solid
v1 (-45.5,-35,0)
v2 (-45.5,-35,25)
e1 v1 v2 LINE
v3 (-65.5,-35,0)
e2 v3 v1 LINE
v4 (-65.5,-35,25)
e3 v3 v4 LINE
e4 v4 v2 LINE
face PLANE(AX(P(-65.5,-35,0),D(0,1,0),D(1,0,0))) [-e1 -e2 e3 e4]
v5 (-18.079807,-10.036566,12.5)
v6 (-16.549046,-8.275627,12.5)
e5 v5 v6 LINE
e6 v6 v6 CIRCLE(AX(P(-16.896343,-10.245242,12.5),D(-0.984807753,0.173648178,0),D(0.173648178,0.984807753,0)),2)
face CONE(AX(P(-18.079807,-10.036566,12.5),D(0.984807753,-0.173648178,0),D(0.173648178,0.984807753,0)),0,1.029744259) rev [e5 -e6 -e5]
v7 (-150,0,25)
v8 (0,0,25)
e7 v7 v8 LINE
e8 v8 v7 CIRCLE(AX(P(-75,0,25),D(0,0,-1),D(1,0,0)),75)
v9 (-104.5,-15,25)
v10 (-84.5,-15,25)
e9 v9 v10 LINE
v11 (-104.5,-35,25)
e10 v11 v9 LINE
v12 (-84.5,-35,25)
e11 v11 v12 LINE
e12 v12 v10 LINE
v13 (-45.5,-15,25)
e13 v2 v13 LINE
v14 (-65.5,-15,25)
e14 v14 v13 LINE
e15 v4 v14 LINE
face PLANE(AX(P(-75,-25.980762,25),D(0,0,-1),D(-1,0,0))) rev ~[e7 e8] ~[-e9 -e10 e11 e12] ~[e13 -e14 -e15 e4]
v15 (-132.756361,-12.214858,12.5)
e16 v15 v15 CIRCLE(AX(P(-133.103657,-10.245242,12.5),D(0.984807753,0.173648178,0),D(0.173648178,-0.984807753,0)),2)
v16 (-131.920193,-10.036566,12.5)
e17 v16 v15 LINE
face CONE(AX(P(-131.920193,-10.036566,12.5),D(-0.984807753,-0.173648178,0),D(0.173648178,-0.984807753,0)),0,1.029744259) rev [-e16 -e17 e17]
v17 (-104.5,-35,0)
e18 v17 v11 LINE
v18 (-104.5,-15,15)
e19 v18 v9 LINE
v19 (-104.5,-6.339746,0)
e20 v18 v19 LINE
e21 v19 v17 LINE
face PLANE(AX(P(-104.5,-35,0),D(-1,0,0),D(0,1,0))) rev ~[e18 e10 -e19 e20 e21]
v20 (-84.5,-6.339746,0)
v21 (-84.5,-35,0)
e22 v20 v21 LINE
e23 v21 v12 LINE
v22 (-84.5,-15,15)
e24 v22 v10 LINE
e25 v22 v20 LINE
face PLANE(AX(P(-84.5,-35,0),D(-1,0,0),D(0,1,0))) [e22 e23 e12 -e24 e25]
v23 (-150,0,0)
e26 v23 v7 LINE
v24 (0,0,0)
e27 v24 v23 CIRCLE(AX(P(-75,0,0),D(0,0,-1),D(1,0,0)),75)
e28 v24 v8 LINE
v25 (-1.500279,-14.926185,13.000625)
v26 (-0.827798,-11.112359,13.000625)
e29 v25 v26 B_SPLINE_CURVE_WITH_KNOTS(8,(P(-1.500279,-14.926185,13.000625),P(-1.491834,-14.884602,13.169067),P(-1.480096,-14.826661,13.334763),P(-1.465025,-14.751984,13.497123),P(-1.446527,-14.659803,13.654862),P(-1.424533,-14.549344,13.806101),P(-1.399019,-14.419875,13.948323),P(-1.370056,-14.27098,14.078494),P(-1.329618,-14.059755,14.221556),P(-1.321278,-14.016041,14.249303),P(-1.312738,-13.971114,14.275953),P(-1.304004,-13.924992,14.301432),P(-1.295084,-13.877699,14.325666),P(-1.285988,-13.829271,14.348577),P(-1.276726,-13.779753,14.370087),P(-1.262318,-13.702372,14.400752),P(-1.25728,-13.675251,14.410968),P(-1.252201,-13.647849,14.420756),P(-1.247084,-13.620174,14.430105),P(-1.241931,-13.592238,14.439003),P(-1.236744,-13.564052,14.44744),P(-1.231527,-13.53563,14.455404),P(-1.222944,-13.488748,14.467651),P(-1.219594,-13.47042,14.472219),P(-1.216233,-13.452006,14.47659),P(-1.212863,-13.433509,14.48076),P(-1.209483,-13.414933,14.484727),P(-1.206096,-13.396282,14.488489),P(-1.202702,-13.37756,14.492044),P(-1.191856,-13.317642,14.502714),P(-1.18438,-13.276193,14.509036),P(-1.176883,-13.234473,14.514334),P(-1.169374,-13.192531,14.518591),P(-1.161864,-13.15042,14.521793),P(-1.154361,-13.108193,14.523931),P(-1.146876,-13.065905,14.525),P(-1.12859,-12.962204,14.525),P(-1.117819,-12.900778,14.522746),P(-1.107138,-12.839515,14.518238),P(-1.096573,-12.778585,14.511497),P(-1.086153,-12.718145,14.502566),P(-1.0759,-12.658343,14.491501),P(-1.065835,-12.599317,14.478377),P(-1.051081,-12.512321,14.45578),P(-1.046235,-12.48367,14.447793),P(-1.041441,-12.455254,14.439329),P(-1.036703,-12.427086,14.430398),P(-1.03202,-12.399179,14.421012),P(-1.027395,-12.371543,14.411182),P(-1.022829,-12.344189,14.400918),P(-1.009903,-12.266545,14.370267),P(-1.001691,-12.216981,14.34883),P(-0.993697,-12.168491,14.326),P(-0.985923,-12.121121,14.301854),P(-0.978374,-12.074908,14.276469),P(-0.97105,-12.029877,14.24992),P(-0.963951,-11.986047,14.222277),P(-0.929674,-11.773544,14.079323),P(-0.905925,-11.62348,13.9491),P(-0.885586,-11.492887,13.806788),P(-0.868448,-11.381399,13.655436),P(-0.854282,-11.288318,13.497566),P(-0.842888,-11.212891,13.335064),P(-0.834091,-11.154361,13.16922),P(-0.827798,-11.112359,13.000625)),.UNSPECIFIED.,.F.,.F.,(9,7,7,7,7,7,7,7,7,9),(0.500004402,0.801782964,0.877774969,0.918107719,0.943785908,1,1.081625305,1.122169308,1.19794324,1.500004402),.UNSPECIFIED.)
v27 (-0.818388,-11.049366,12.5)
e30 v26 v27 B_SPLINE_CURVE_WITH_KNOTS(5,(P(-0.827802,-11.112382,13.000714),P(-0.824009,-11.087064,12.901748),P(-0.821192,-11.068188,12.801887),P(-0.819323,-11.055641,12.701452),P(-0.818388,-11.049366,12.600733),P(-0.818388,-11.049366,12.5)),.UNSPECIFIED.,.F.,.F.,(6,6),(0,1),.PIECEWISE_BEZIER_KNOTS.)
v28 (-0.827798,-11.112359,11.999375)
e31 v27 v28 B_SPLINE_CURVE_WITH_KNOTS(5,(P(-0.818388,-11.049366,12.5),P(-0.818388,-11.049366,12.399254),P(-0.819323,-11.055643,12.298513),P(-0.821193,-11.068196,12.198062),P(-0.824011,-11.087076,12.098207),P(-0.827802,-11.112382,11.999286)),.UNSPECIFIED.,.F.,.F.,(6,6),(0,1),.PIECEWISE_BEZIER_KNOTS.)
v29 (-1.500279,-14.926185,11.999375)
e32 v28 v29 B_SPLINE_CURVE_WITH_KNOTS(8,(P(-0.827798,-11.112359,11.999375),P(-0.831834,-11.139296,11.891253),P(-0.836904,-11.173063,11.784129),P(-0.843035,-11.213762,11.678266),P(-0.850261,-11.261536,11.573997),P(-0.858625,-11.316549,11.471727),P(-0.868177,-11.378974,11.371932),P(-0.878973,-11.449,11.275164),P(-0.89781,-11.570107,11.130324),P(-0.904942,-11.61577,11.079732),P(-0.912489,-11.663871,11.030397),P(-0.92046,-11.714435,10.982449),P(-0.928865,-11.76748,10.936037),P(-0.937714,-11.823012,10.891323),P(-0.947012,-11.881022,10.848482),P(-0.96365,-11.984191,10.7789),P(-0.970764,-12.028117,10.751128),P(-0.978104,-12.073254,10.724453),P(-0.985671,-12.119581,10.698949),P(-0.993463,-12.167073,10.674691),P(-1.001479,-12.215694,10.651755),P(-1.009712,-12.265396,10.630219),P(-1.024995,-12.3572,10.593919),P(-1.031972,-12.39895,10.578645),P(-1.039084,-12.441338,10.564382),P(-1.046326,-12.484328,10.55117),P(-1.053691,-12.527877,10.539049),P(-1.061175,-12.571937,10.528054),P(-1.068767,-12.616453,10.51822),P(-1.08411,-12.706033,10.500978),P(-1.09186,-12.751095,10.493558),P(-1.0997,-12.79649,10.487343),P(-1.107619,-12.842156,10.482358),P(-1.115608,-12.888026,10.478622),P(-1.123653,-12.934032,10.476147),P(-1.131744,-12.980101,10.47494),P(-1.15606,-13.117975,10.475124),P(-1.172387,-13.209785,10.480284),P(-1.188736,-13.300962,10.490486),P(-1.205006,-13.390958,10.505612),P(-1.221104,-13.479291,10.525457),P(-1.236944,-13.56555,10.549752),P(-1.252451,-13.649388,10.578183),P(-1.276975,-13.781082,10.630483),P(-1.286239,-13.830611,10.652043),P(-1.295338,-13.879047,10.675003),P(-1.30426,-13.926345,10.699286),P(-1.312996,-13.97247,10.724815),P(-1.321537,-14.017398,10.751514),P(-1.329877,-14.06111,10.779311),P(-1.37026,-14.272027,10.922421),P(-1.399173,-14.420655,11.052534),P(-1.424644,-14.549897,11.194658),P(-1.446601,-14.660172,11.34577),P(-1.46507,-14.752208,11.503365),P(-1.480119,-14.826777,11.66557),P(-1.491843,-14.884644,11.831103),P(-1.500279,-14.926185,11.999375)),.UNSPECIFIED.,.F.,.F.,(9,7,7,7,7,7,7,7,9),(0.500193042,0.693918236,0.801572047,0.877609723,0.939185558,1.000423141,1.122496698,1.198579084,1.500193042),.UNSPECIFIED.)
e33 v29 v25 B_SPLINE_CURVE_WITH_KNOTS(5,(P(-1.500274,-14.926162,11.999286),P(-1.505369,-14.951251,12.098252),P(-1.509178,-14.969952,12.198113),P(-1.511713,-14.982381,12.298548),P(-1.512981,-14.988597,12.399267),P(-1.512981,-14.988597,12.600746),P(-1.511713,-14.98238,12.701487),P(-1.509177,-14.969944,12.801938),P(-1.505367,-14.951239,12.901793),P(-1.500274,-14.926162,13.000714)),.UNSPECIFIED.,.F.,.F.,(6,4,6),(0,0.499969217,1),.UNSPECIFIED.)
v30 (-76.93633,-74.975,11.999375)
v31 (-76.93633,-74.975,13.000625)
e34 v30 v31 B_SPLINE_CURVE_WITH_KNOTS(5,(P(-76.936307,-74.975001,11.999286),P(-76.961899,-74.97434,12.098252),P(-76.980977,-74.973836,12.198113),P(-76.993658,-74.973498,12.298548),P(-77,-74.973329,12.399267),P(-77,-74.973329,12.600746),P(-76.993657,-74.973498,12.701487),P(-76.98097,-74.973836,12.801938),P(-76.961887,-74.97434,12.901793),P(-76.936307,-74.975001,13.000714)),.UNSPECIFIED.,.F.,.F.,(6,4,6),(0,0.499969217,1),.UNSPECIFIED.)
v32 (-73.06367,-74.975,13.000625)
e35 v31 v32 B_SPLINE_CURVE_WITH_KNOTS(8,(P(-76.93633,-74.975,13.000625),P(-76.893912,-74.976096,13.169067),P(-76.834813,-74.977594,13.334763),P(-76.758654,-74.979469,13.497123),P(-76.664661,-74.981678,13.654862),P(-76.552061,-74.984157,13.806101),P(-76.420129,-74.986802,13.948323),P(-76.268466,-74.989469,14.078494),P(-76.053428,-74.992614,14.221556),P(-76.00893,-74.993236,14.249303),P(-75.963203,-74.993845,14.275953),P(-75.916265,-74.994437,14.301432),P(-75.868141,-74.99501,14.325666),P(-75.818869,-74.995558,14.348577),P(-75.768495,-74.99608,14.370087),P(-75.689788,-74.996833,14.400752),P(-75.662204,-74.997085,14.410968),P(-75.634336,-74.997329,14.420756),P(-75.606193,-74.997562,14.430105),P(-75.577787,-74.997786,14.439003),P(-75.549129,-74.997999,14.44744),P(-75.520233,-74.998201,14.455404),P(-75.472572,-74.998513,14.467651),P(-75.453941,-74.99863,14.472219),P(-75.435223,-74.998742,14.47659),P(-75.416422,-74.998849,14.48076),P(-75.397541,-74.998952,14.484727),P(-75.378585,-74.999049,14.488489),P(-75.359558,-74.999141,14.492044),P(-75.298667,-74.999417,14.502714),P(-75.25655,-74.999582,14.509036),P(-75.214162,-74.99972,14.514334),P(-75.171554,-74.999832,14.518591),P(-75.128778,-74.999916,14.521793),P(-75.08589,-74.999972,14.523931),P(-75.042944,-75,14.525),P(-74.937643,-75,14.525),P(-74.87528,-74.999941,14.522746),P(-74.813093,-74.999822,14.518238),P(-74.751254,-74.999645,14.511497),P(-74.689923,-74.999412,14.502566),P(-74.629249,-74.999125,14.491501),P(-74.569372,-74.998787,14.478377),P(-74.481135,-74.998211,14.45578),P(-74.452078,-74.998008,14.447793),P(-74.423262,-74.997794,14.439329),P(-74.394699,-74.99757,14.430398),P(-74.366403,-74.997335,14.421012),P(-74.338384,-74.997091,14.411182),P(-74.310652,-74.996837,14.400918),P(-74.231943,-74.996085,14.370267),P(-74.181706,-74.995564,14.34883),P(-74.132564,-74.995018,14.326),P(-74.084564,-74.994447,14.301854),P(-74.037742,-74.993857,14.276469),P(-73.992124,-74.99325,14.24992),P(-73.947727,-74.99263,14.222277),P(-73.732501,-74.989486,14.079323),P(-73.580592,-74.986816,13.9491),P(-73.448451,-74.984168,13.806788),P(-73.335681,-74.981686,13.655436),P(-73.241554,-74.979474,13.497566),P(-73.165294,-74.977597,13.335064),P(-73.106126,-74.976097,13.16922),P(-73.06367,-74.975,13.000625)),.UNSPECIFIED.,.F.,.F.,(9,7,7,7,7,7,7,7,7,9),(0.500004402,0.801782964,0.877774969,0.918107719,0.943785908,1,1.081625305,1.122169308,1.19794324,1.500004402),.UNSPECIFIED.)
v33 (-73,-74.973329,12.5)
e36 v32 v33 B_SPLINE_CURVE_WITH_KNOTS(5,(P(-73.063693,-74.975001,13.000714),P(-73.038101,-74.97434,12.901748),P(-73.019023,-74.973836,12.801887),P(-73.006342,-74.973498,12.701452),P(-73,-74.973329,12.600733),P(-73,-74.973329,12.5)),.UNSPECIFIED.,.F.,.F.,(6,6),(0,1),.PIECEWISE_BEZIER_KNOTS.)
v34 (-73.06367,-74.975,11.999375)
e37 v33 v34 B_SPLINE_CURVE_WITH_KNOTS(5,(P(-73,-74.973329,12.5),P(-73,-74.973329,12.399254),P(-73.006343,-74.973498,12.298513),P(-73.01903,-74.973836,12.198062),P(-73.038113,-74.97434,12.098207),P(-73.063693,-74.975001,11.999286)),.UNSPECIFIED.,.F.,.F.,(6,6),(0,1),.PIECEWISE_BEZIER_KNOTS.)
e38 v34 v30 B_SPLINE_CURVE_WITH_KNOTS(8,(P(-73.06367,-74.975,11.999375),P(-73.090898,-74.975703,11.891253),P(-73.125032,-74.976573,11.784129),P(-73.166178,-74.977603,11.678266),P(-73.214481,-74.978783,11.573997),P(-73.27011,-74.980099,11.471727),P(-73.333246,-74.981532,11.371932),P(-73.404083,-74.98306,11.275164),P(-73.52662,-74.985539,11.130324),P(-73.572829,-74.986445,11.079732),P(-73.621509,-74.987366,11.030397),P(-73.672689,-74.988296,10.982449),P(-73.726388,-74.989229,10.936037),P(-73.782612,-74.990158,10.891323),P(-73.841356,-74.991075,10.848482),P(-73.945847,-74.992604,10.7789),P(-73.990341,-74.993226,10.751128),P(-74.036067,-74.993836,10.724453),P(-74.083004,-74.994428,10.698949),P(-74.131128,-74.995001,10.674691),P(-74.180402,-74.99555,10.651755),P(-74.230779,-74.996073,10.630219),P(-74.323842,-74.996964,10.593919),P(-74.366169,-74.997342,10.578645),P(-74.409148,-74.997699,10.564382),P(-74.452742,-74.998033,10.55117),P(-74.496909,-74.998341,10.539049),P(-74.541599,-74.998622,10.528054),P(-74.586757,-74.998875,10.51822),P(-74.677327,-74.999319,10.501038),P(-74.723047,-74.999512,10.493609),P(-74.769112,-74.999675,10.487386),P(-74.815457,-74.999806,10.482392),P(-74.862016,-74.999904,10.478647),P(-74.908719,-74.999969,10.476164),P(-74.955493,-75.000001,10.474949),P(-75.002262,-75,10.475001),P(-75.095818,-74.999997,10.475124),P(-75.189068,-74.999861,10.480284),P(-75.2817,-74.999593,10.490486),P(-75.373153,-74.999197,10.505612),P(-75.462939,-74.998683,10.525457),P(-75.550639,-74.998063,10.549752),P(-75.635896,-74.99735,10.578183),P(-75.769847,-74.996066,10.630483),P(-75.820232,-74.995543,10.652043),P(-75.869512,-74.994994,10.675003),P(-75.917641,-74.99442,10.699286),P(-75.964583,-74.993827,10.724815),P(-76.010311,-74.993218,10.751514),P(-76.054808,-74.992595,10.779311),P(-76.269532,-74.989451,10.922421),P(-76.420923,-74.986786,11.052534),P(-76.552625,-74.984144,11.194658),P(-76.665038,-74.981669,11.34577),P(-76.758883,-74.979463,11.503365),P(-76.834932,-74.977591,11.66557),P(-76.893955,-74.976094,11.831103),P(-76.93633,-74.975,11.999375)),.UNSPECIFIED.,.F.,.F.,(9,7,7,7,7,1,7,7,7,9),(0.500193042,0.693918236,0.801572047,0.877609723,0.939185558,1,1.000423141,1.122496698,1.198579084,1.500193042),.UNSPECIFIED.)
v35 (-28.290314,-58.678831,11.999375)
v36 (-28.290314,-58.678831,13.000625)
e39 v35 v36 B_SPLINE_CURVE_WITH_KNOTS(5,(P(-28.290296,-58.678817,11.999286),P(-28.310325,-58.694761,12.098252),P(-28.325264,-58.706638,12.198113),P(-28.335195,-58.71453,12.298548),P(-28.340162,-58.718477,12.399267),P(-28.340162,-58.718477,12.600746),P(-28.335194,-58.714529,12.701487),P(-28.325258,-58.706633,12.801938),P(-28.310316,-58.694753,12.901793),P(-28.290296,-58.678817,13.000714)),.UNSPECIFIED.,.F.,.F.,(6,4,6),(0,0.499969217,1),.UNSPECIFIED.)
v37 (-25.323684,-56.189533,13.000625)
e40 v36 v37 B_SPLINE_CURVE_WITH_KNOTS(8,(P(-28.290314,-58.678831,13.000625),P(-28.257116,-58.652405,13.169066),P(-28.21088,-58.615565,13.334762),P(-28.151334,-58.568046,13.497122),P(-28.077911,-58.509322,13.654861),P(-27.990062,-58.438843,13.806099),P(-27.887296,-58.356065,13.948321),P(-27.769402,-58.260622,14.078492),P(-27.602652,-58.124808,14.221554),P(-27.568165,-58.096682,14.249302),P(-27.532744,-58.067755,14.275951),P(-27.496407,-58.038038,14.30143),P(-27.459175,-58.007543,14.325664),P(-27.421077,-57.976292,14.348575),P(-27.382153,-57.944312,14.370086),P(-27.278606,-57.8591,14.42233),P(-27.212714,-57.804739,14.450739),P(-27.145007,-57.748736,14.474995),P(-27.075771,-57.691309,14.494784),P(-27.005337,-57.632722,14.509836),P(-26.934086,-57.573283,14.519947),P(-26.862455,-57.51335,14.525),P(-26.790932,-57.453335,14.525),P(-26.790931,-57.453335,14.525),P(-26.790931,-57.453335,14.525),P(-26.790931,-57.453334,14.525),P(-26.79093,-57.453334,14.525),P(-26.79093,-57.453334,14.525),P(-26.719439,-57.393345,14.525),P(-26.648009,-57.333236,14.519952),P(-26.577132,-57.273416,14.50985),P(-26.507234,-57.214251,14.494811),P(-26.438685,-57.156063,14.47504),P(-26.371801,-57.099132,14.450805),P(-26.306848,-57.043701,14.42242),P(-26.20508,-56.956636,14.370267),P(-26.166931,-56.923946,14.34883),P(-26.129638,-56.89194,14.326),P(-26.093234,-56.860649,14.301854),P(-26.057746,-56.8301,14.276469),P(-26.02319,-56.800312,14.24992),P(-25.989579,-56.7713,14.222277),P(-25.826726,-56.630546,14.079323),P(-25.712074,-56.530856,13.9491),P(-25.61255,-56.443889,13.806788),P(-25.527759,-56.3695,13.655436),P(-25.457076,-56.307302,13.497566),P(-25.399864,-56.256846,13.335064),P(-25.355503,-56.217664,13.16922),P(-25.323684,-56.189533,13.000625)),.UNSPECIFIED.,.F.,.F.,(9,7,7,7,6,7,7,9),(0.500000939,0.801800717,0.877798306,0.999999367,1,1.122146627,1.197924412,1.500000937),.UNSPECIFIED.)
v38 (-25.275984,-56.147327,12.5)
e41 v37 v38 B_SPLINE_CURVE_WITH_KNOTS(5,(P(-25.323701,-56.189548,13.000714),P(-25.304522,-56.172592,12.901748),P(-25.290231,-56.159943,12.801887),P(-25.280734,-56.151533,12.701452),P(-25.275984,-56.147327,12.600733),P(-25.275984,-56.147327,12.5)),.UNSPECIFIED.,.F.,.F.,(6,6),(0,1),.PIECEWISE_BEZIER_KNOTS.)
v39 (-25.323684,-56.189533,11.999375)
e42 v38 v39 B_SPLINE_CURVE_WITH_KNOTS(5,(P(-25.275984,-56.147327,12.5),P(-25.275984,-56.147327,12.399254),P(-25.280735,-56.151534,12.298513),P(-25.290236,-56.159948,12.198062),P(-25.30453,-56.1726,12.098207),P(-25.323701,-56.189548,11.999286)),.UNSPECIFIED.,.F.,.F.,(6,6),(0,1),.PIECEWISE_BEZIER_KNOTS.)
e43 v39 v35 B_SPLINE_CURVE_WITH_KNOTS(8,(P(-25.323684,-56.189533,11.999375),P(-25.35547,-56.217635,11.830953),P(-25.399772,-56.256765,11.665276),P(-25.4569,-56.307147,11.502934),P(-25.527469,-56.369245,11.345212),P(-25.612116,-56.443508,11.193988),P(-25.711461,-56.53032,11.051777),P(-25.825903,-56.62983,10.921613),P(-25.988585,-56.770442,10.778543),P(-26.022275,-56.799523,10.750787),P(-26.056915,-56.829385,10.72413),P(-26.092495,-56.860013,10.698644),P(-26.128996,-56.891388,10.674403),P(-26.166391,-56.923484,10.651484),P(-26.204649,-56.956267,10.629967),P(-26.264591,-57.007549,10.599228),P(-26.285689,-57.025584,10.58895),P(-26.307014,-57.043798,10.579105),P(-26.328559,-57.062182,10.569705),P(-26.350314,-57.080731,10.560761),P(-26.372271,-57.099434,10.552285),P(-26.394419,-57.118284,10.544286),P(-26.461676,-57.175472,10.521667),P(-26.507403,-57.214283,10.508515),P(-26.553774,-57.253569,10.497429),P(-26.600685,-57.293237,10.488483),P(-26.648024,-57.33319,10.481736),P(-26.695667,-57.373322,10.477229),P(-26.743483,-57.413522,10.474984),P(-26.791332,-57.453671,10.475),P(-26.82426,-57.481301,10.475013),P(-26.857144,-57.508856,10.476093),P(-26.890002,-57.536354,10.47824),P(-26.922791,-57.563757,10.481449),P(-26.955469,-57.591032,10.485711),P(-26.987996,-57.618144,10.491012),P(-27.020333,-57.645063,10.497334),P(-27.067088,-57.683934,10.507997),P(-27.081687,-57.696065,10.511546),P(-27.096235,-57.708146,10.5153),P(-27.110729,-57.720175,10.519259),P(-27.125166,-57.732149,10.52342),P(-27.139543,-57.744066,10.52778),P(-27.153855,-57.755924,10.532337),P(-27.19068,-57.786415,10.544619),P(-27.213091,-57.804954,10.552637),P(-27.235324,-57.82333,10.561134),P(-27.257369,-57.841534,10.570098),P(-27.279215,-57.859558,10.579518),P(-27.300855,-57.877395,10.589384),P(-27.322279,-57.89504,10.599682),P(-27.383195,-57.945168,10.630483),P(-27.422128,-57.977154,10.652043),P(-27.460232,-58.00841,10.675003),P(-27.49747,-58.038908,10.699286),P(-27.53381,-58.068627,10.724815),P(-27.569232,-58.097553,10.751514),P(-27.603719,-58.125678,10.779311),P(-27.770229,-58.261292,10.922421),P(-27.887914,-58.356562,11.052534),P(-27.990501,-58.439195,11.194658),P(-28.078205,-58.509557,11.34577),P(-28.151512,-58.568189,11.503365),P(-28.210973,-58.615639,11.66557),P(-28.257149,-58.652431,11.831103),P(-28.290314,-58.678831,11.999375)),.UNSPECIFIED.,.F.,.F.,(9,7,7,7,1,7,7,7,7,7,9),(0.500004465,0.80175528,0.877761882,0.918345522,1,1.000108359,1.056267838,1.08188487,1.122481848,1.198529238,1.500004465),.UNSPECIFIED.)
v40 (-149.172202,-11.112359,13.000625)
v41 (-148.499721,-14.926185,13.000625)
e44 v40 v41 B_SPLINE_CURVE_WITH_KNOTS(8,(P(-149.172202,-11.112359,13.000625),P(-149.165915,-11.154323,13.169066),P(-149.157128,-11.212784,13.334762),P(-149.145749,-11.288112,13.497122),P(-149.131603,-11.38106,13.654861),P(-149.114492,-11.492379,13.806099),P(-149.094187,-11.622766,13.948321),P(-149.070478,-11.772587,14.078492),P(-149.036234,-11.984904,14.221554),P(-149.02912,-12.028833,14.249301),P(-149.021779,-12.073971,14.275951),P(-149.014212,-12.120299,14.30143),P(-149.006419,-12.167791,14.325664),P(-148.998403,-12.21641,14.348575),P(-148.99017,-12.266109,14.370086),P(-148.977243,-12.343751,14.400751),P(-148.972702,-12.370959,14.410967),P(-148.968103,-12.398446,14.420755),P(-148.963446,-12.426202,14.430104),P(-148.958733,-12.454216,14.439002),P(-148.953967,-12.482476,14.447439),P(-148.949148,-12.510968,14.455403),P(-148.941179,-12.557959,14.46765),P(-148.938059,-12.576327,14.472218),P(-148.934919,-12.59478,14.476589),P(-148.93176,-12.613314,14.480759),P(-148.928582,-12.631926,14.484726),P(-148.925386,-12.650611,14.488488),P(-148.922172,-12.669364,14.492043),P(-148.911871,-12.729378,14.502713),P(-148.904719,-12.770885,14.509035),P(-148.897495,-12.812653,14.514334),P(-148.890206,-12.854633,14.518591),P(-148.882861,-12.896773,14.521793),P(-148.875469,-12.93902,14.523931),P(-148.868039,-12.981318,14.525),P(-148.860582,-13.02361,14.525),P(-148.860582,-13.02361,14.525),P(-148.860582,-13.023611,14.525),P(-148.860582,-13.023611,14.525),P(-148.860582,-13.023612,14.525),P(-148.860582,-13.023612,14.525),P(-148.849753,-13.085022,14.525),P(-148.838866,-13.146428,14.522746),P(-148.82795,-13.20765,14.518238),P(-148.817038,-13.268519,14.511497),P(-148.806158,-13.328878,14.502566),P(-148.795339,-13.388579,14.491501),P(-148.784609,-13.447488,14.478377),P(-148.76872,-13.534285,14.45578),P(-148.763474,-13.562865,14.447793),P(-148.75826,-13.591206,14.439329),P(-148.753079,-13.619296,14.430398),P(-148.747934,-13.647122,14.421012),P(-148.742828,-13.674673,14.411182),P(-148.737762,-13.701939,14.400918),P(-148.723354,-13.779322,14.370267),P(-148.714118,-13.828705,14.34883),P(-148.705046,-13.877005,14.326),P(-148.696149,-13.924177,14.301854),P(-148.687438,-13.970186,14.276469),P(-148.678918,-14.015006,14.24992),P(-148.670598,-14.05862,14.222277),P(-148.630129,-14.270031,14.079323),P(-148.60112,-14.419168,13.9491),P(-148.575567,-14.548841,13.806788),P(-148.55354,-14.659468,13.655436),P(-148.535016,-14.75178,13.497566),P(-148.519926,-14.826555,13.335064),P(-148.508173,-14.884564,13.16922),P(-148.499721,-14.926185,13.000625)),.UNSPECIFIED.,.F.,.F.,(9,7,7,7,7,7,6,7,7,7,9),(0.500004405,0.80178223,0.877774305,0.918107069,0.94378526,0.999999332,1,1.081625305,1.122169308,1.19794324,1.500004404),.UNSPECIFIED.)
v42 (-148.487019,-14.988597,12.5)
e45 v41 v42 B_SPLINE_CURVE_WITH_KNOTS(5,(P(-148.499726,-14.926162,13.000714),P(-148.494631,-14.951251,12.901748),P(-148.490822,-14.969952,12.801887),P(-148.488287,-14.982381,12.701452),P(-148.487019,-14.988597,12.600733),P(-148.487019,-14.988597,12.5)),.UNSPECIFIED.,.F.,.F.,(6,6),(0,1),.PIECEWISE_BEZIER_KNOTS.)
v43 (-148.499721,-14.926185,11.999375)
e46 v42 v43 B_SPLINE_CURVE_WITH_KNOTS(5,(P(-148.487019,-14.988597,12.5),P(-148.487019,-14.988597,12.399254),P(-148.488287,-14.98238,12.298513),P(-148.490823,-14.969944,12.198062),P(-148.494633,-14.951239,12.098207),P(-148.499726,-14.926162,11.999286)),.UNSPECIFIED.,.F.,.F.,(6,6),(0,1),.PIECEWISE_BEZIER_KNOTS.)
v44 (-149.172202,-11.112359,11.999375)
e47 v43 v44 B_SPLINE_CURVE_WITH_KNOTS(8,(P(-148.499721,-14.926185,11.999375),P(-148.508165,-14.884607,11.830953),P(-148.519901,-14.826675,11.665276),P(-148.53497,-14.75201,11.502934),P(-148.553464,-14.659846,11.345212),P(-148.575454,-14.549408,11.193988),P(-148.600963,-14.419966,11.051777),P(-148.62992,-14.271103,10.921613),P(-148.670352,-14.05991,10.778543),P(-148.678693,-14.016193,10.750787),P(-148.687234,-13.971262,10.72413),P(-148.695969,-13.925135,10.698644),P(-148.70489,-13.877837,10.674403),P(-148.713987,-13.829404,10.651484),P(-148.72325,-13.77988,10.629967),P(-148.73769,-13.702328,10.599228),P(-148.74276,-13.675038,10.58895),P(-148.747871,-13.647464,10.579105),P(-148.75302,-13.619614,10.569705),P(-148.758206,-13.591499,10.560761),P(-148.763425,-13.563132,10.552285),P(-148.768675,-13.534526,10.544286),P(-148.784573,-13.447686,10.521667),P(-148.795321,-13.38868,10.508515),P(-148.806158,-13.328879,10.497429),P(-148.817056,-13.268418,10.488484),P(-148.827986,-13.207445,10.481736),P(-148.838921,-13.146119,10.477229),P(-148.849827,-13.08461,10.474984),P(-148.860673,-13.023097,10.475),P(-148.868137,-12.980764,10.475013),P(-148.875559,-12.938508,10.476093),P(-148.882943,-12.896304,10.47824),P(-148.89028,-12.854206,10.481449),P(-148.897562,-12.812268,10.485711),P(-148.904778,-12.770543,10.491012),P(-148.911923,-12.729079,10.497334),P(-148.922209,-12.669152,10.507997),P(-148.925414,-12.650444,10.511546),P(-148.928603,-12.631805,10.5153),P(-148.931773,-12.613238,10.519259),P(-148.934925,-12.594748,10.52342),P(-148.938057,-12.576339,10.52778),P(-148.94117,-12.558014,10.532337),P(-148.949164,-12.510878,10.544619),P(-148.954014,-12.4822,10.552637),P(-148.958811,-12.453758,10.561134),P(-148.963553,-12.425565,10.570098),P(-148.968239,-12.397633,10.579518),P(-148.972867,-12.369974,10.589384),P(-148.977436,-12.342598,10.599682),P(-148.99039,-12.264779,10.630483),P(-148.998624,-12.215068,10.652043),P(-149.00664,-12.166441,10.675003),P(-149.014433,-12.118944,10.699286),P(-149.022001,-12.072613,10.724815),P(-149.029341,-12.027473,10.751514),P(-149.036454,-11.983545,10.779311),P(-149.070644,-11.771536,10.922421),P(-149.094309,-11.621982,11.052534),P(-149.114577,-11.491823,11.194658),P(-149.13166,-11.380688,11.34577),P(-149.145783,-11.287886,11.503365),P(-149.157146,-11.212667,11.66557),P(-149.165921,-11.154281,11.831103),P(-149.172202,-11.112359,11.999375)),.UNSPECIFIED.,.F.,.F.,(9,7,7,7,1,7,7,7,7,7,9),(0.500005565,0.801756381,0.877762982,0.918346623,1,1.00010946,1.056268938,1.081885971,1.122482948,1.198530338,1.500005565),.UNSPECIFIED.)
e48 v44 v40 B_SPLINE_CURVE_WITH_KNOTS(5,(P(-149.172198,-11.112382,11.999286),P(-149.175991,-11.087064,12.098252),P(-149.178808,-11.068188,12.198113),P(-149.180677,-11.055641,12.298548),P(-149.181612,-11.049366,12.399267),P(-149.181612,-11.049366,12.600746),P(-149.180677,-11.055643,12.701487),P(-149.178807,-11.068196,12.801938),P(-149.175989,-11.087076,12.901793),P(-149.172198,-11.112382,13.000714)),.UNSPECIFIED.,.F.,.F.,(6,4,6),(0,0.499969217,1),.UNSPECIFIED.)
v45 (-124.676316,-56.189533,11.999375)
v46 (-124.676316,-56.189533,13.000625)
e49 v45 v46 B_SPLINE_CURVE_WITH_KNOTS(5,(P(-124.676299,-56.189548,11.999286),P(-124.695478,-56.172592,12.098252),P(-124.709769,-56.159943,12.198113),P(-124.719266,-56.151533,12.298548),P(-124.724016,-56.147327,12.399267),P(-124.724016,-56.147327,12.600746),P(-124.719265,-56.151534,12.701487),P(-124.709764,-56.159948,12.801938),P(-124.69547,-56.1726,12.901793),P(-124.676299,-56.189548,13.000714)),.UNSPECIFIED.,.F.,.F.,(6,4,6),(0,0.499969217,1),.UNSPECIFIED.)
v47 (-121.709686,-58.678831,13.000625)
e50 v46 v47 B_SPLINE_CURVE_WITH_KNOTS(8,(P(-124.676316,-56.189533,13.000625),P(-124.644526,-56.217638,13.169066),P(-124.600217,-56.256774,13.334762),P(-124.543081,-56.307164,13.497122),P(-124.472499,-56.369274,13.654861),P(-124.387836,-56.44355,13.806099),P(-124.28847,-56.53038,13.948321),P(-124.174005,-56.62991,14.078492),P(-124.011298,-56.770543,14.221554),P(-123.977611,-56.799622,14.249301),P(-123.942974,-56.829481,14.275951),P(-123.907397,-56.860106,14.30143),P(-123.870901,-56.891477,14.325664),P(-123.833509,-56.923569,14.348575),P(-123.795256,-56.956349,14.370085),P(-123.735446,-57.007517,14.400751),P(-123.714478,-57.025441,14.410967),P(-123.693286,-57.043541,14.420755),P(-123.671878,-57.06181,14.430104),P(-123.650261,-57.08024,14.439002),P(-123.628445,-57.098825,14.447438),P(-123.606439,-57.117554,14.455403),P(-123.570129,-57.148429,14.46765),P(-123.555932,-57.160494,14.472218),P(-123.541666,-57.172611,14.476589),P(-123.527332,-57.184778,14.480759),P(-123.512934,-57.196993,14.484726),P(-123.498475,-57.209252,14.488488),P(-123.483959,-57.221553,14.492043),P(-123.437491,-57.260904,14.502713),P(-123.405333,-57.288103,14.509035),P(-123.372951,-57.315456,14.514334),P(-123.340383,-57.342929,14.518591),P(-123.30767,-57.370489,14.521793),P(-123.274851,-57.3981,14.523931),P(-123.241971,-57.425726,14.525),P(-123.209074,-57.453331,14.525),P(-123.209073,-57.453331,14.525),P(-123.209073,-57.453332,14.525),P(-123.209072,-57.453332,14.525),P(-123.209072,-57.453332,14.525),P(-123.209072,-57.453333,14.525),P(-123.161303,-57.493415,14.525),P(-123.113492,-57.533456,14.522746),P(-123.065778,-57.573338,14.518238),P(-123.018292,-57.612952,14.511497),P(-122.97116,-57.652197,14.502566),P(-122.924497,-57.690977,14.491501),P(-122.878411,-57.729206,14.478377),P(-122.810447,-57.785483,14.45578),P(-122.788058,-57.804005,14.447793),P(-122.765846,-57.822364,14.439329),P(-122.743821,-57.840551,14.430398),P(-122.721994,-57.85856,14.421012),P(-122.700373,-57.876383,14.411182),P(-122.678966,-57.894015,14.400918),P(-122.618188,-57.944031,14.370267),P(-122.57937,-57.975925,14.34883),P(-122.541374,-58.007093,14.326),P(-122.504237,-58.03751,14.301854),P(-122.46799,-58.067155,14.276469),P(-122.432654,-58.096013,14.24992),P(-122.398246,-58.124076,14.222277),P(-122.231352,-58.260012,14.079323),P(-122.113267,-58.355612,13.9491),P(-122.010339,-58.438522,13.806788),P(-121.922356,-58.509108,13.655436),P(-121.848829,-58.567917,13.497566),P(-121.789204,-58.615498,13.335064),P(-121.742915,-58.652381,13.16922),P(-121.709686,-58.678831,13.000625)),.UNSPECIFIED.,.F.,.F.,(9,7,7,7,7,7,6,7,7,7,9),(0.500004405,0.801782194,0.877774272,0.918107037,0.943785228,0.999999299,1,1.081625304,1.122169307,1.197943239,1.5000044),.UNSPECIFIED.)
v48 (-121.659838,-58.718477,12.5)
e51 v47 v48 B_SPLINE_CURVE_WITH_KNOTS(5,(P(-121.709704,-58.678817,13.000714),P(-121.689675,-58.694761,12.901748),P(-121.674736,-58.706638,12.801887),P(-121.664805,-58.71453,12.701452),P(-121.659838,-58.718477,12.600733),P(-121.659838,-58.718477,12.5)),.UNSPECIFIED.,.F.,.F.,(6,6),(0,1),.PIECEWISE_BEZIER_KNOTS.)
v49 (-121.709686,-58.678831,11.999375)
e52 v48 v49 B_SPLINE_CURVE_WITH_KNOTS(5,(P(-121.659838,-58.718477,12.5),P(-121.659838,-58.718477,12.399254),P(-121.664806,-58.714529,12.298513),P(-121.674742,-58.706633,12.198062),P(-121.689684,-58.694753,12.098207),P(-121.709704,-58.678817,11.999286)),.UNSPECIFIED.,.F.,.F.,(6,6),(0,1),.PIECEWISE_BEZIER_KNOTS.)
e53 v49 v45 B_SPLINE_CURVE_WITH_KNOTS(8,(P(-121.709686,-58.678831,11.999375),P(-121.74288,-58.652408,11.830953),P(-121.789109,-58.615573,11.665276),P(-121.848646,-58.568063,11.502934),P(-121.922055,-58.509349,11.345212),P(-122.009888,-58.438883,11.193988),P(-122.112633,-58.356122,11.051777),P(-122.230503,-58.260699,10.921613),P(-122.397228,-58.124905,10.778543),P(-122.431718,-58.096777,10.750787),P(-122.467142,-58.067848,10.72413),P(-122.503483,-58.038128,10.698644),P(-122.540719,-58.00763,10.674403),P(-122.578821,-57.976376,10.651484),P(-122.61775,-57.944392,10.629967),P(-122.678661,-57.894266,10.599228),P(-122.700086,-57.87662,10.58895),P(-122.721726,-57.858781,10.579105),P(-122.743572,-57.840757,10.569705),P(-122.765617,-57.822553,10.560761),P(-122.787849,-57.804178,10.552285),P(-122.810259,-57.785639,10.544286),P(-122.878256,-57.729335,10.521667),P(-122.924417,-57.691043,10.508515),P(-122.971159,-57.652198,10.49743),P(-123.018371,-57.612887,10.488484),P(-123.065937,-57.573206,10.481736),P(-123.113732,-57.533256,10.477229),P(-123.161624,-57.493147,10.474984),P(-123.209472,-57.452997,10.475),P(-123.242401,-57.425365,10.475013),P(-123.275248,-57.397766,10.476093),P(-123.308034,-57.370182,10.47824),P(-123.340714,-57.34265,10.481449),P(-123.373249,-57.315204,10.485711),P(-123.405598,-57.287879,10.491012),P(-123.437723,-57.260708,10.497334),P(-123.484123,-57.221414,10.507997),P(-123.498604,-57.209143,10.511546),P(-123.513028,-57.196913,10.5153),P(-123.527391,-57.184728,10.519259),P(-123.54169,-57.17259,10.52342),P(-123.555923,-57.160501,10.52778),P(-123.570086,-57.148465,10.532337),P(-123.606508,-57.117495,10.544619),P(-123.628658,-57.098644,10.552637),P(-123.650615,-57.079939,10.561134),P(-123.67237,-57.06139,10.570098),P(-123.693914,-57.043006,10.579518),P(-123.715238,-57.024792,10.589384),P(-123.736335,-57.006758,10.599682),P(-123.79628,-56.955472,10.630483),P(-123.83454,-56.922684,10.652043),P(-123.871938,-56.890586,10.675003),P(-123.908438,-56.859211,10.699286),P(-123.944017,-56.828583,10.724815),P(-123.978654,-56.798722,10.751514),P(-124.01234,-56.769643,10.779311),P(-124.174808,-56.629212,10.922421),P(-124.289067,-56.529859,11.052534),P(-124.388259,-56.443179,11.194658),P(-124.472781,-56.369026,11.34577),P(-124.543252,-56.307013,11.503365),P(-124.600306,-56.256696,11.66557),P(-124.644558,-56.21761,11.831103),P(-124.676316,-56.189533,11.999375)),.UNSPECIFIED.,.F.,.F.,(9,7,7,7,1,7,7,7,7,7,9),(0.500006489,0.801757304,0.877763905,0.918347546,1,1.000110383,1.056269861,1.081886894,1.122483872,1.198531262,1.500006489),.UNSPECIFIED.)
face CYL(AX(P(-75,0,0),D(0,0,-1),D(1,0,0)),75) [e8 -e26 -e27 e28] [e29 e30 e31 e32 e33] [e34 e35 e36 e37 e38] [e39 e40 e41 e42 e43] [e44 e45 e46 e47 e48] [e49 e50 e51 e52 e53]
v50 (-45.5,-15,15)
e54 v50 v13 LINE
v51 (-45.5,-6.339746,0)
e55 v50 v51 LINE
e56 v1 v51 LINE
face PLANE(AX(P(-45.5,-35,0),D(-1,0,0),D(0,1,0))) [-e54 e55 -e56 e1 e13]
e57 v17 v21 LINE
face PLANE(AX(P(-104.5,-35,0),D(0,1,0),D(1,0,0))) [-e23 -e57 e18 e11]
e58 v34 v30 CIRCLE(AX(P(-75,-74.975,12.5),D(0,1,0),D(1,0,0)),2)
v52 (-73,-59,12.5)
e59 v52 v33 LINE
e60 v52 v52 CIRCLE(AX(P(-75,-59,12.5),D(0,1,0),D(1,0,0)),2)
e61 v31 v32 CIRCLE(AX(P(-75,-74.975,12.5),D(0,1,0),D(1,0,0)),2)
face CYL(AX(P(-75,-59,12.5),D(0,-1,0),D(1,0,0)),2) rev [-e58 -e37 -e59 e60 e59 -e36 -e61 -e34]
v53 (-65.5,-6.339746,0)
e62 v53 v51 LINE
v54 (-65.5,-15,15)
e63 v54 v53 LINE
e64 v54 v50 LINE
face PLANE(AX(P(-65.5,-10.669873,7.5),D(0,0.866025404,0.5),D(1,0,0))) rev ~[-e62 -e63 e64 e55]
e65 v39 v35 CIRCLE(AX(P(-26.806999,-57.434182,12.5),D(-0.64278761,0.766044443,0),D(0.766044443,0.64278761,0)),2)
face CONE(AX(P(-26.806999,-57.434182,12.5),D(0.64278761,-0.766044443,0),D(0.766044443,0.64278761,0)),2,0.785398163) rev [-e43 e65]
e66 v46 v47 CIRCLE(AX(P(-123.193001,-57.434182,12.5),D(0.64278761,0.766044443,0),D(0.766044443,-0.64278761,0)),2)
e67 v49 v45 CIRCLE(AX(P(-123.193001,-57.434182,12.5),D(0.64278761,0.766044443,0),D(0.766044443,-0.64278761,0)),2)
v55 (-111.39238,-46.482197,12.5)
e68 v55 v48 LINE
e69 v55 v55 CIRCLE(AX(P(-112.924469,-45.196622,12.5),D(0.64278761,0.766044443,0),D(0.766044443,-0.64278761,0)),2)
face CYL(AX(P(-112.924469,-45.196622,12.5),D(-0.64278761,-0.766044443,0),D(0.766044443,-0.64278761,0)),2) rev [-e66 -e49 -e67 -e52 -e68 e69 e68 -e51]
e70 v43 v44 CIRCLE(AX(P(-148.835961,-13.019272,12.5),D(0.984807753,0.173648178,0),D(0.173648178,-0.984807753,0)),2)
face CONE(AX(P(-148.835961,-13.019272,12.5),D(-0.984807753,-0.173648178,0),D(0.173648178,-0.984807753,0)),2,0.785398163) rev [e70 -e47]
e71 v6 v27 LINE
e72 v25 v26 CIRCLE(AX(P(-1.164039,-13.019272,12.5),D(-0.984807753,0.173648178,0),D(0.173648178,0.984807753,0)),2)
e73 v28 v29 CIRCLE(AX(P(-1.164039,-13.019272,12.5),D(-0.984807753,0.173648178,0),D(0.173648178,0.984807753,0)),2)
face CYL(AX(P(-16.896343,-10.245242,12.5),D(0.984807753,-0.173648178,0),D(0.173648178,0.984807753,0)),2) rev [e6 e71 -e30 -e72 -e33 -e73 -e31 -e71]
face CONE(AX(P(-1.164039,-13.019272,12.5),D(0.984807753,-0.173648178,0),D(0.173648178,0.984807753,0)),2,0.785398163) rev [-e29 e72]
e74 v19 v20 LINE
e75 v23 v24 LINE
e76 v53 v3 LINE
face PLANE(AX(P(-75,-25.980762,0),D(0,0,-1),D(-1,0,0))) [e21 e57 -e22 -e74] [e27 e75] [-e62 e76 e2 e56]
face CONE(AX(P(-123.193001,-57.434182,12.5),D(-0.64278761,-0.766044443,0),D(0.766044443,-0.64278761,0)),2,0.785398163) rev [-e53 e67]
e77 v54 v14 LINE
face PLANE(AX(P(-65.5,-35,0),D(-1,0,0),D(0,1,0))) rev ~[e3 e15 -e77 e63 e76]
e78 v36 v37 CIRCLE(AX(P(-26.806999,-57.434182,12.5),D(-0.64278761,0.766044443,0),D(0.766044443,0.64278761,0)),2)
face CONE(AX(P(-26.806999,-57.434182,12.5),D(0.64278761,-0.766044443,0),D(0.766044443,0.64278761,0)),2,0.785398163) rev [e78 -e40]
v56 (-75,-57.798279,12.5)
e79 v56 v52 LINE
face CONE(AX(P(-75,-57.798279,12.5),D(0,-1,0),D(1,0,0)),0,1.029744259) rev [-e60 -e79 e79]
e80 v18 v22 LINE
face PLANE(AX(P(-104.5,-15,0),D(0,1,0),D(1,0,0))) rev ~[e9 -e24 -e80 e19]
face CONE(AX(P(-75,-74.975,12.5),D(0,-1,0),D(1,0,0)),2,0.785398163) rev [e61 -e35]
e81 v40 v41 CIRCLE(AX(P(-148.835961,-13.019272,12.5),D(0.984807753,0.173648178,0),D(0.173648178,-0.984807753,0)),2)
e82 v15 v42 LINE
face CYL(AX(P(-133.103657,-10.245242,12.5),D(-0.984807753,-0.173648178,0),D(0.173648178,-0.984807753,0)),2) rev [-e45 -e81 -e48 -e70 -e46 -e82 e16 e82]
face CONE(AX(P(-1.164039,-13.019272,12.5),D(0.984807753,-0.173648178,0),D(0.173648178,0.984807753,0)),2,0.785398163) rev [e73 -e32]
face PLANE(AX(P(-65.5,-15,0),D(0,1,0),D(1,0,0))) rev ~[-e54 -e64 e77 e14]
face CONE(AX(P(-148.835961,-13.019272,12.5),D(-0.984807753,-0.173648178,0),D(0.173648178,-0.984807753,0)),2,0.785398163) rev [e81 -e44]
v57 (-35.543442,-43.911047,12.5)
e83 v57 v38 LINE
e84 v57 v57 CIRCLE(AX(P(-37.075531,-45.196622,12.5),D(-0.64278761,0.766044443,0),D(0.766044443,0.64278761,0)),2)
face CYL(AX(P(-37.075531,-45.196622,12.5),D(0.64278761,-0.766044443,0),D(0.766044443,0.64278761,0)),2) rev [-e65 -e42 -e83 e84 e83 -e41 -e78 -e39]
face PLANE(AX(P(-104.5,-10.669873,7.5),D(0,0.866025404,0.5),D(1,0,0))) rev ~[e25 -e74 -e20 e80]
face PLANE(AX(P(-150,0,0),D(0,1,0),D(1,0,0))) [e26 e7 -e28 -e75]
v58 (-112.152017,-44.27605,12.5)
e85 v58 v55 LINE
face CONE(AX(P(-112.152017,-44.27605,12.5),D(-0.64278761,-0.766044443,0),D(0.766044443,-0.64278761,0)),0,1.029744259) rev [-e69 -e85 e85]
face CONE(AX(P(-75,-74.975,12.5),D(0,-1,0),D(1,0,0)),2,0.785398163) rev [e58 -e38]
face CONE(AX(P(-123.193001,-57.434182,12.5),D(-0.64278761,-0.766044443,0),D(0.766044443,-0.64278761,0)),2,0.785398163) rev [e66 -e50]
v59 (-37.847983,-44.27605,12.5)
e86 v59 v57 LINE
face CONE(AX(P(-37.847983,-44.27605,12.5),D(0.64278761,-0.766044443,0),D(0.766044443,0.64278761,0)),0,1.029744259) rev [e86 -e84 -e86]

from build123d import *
from OCP.BRepFilletAPI import BRepFilletAPI_MakeChamfer

# Parameters (mm, degrees)
SKETCH1_W           = 20
SKETCH1_H           = 20
BOSS_EXTRUDE1_DEPTH = 25
CIRPATTERN1_COUNT   = 5
CIRPATTERN1_ANGLE   = 160
CHAMFER1_SIZE       = 15
CHAMFER1_SIZE2      = 8.660254038


with BuildPart() as part:
    # Sketch1 → Boss-Extrude1 (new body)
    with BuildSketch(Plane.XY):
        with BuildLine():
            Line((-150, 0), (0, 0))
            ThreePointArc((0, 0), (-75, -75), (-150, 0))
        make_face()
        with Locations((-55.5, -25)):
            Rectangle(SKETCH1_W, SKETCH1_H, mode=Mode.SUBTRACT)
        with Locations((-94.5, -25)):
            Rectangle(SKETCH1_W, SKETCH1_H, mode=Mode.SUBTRACT)
    extrude(amount=BOSS_EXTRUDE1_DEPTH)

    # Sketch4 → Ø4.0mm Dowel Hole2 (revolve, cut)
    with BuildSketch(Plane(origin=(-1.139418524, -13.023613325, 12.5), x_dir=(0.17364817766693047, 0.9848077530122081, 0), z_dir=(0, 0, 1))):
        Polygon((0, 0), (0, 17.201721238), (2, 16), (2, 0.025), (2.025, 0), align=None)
    f_4_0mm_dowel_hole2 = revolve(axis=Axis((5.114110708, -14.126279253, 12.5), (-0.9848077530122081, 0.17364817766693044, 0)), mode=Mode.SUBTRACT)

    # CirPattern1: Ø4.0mm Dowel Hole2 ×5 about axis
    cirpattern1_axis = Axis((-75, 0, 0), (0, 0, -1))
    for i in range(1, CIRPATTERN1_COUNT):
        add(f_4_0mm_dowel_hole2.rotate(cirpattern1_axis, i * CIRPATTERN1_ANGLE / (CIRPATTERN1_COUNT - 1)), mode=Mode.SUBTRACT)

    # Chamfer1: one chamfer whose edges measure the first distance from different faces: ONE call of the kernel's chamfer builder (chamfer() names one face for all edges)
    chamfer1_edges_1 = [part.edges().sort_by_distance(p)[0] for p in [
        (-55.5, -15, 0),
    ]]
    chamfer1_side_1 = [part.faces().sort_by_distance(p)[0] for p in [
        (-55.5, -15, 12.5),
    ]]
    chamfer1_edges_2 = [part.edges().sort_by_distance(p)[0] for p in [
        (-94.5, -15, 0),
    ]]
    chamfer1_side_2 = [part.faces().sort_by_distance(p)[0] for p in [
        (-94.5, -15, 12.5),
    ]]
    chamfer1 = BRepFilletAPI_MakeChamfer(part.part.solid().wrapped)
    for e in chamfer1_edges_1:
        chamfer1.Add(CHAMFER1_SIZE, CHAMFER1_SIZE2, e.wrapped, chamfer1_side_1[0].wrapped)  # the first distance lies on this face
    for e in chamfer1_edges_2:
        chamfer1.Add(CHAMFER1_SIZE, CHAMFER1_SIZE2, e.wrapped, chamfer1_side_2[0].wrapped)  # the first distance lies on this face
    add(Compound.cast(chamfer1.Shape()), mode=Mode.REPLACE)


solid = part.part
